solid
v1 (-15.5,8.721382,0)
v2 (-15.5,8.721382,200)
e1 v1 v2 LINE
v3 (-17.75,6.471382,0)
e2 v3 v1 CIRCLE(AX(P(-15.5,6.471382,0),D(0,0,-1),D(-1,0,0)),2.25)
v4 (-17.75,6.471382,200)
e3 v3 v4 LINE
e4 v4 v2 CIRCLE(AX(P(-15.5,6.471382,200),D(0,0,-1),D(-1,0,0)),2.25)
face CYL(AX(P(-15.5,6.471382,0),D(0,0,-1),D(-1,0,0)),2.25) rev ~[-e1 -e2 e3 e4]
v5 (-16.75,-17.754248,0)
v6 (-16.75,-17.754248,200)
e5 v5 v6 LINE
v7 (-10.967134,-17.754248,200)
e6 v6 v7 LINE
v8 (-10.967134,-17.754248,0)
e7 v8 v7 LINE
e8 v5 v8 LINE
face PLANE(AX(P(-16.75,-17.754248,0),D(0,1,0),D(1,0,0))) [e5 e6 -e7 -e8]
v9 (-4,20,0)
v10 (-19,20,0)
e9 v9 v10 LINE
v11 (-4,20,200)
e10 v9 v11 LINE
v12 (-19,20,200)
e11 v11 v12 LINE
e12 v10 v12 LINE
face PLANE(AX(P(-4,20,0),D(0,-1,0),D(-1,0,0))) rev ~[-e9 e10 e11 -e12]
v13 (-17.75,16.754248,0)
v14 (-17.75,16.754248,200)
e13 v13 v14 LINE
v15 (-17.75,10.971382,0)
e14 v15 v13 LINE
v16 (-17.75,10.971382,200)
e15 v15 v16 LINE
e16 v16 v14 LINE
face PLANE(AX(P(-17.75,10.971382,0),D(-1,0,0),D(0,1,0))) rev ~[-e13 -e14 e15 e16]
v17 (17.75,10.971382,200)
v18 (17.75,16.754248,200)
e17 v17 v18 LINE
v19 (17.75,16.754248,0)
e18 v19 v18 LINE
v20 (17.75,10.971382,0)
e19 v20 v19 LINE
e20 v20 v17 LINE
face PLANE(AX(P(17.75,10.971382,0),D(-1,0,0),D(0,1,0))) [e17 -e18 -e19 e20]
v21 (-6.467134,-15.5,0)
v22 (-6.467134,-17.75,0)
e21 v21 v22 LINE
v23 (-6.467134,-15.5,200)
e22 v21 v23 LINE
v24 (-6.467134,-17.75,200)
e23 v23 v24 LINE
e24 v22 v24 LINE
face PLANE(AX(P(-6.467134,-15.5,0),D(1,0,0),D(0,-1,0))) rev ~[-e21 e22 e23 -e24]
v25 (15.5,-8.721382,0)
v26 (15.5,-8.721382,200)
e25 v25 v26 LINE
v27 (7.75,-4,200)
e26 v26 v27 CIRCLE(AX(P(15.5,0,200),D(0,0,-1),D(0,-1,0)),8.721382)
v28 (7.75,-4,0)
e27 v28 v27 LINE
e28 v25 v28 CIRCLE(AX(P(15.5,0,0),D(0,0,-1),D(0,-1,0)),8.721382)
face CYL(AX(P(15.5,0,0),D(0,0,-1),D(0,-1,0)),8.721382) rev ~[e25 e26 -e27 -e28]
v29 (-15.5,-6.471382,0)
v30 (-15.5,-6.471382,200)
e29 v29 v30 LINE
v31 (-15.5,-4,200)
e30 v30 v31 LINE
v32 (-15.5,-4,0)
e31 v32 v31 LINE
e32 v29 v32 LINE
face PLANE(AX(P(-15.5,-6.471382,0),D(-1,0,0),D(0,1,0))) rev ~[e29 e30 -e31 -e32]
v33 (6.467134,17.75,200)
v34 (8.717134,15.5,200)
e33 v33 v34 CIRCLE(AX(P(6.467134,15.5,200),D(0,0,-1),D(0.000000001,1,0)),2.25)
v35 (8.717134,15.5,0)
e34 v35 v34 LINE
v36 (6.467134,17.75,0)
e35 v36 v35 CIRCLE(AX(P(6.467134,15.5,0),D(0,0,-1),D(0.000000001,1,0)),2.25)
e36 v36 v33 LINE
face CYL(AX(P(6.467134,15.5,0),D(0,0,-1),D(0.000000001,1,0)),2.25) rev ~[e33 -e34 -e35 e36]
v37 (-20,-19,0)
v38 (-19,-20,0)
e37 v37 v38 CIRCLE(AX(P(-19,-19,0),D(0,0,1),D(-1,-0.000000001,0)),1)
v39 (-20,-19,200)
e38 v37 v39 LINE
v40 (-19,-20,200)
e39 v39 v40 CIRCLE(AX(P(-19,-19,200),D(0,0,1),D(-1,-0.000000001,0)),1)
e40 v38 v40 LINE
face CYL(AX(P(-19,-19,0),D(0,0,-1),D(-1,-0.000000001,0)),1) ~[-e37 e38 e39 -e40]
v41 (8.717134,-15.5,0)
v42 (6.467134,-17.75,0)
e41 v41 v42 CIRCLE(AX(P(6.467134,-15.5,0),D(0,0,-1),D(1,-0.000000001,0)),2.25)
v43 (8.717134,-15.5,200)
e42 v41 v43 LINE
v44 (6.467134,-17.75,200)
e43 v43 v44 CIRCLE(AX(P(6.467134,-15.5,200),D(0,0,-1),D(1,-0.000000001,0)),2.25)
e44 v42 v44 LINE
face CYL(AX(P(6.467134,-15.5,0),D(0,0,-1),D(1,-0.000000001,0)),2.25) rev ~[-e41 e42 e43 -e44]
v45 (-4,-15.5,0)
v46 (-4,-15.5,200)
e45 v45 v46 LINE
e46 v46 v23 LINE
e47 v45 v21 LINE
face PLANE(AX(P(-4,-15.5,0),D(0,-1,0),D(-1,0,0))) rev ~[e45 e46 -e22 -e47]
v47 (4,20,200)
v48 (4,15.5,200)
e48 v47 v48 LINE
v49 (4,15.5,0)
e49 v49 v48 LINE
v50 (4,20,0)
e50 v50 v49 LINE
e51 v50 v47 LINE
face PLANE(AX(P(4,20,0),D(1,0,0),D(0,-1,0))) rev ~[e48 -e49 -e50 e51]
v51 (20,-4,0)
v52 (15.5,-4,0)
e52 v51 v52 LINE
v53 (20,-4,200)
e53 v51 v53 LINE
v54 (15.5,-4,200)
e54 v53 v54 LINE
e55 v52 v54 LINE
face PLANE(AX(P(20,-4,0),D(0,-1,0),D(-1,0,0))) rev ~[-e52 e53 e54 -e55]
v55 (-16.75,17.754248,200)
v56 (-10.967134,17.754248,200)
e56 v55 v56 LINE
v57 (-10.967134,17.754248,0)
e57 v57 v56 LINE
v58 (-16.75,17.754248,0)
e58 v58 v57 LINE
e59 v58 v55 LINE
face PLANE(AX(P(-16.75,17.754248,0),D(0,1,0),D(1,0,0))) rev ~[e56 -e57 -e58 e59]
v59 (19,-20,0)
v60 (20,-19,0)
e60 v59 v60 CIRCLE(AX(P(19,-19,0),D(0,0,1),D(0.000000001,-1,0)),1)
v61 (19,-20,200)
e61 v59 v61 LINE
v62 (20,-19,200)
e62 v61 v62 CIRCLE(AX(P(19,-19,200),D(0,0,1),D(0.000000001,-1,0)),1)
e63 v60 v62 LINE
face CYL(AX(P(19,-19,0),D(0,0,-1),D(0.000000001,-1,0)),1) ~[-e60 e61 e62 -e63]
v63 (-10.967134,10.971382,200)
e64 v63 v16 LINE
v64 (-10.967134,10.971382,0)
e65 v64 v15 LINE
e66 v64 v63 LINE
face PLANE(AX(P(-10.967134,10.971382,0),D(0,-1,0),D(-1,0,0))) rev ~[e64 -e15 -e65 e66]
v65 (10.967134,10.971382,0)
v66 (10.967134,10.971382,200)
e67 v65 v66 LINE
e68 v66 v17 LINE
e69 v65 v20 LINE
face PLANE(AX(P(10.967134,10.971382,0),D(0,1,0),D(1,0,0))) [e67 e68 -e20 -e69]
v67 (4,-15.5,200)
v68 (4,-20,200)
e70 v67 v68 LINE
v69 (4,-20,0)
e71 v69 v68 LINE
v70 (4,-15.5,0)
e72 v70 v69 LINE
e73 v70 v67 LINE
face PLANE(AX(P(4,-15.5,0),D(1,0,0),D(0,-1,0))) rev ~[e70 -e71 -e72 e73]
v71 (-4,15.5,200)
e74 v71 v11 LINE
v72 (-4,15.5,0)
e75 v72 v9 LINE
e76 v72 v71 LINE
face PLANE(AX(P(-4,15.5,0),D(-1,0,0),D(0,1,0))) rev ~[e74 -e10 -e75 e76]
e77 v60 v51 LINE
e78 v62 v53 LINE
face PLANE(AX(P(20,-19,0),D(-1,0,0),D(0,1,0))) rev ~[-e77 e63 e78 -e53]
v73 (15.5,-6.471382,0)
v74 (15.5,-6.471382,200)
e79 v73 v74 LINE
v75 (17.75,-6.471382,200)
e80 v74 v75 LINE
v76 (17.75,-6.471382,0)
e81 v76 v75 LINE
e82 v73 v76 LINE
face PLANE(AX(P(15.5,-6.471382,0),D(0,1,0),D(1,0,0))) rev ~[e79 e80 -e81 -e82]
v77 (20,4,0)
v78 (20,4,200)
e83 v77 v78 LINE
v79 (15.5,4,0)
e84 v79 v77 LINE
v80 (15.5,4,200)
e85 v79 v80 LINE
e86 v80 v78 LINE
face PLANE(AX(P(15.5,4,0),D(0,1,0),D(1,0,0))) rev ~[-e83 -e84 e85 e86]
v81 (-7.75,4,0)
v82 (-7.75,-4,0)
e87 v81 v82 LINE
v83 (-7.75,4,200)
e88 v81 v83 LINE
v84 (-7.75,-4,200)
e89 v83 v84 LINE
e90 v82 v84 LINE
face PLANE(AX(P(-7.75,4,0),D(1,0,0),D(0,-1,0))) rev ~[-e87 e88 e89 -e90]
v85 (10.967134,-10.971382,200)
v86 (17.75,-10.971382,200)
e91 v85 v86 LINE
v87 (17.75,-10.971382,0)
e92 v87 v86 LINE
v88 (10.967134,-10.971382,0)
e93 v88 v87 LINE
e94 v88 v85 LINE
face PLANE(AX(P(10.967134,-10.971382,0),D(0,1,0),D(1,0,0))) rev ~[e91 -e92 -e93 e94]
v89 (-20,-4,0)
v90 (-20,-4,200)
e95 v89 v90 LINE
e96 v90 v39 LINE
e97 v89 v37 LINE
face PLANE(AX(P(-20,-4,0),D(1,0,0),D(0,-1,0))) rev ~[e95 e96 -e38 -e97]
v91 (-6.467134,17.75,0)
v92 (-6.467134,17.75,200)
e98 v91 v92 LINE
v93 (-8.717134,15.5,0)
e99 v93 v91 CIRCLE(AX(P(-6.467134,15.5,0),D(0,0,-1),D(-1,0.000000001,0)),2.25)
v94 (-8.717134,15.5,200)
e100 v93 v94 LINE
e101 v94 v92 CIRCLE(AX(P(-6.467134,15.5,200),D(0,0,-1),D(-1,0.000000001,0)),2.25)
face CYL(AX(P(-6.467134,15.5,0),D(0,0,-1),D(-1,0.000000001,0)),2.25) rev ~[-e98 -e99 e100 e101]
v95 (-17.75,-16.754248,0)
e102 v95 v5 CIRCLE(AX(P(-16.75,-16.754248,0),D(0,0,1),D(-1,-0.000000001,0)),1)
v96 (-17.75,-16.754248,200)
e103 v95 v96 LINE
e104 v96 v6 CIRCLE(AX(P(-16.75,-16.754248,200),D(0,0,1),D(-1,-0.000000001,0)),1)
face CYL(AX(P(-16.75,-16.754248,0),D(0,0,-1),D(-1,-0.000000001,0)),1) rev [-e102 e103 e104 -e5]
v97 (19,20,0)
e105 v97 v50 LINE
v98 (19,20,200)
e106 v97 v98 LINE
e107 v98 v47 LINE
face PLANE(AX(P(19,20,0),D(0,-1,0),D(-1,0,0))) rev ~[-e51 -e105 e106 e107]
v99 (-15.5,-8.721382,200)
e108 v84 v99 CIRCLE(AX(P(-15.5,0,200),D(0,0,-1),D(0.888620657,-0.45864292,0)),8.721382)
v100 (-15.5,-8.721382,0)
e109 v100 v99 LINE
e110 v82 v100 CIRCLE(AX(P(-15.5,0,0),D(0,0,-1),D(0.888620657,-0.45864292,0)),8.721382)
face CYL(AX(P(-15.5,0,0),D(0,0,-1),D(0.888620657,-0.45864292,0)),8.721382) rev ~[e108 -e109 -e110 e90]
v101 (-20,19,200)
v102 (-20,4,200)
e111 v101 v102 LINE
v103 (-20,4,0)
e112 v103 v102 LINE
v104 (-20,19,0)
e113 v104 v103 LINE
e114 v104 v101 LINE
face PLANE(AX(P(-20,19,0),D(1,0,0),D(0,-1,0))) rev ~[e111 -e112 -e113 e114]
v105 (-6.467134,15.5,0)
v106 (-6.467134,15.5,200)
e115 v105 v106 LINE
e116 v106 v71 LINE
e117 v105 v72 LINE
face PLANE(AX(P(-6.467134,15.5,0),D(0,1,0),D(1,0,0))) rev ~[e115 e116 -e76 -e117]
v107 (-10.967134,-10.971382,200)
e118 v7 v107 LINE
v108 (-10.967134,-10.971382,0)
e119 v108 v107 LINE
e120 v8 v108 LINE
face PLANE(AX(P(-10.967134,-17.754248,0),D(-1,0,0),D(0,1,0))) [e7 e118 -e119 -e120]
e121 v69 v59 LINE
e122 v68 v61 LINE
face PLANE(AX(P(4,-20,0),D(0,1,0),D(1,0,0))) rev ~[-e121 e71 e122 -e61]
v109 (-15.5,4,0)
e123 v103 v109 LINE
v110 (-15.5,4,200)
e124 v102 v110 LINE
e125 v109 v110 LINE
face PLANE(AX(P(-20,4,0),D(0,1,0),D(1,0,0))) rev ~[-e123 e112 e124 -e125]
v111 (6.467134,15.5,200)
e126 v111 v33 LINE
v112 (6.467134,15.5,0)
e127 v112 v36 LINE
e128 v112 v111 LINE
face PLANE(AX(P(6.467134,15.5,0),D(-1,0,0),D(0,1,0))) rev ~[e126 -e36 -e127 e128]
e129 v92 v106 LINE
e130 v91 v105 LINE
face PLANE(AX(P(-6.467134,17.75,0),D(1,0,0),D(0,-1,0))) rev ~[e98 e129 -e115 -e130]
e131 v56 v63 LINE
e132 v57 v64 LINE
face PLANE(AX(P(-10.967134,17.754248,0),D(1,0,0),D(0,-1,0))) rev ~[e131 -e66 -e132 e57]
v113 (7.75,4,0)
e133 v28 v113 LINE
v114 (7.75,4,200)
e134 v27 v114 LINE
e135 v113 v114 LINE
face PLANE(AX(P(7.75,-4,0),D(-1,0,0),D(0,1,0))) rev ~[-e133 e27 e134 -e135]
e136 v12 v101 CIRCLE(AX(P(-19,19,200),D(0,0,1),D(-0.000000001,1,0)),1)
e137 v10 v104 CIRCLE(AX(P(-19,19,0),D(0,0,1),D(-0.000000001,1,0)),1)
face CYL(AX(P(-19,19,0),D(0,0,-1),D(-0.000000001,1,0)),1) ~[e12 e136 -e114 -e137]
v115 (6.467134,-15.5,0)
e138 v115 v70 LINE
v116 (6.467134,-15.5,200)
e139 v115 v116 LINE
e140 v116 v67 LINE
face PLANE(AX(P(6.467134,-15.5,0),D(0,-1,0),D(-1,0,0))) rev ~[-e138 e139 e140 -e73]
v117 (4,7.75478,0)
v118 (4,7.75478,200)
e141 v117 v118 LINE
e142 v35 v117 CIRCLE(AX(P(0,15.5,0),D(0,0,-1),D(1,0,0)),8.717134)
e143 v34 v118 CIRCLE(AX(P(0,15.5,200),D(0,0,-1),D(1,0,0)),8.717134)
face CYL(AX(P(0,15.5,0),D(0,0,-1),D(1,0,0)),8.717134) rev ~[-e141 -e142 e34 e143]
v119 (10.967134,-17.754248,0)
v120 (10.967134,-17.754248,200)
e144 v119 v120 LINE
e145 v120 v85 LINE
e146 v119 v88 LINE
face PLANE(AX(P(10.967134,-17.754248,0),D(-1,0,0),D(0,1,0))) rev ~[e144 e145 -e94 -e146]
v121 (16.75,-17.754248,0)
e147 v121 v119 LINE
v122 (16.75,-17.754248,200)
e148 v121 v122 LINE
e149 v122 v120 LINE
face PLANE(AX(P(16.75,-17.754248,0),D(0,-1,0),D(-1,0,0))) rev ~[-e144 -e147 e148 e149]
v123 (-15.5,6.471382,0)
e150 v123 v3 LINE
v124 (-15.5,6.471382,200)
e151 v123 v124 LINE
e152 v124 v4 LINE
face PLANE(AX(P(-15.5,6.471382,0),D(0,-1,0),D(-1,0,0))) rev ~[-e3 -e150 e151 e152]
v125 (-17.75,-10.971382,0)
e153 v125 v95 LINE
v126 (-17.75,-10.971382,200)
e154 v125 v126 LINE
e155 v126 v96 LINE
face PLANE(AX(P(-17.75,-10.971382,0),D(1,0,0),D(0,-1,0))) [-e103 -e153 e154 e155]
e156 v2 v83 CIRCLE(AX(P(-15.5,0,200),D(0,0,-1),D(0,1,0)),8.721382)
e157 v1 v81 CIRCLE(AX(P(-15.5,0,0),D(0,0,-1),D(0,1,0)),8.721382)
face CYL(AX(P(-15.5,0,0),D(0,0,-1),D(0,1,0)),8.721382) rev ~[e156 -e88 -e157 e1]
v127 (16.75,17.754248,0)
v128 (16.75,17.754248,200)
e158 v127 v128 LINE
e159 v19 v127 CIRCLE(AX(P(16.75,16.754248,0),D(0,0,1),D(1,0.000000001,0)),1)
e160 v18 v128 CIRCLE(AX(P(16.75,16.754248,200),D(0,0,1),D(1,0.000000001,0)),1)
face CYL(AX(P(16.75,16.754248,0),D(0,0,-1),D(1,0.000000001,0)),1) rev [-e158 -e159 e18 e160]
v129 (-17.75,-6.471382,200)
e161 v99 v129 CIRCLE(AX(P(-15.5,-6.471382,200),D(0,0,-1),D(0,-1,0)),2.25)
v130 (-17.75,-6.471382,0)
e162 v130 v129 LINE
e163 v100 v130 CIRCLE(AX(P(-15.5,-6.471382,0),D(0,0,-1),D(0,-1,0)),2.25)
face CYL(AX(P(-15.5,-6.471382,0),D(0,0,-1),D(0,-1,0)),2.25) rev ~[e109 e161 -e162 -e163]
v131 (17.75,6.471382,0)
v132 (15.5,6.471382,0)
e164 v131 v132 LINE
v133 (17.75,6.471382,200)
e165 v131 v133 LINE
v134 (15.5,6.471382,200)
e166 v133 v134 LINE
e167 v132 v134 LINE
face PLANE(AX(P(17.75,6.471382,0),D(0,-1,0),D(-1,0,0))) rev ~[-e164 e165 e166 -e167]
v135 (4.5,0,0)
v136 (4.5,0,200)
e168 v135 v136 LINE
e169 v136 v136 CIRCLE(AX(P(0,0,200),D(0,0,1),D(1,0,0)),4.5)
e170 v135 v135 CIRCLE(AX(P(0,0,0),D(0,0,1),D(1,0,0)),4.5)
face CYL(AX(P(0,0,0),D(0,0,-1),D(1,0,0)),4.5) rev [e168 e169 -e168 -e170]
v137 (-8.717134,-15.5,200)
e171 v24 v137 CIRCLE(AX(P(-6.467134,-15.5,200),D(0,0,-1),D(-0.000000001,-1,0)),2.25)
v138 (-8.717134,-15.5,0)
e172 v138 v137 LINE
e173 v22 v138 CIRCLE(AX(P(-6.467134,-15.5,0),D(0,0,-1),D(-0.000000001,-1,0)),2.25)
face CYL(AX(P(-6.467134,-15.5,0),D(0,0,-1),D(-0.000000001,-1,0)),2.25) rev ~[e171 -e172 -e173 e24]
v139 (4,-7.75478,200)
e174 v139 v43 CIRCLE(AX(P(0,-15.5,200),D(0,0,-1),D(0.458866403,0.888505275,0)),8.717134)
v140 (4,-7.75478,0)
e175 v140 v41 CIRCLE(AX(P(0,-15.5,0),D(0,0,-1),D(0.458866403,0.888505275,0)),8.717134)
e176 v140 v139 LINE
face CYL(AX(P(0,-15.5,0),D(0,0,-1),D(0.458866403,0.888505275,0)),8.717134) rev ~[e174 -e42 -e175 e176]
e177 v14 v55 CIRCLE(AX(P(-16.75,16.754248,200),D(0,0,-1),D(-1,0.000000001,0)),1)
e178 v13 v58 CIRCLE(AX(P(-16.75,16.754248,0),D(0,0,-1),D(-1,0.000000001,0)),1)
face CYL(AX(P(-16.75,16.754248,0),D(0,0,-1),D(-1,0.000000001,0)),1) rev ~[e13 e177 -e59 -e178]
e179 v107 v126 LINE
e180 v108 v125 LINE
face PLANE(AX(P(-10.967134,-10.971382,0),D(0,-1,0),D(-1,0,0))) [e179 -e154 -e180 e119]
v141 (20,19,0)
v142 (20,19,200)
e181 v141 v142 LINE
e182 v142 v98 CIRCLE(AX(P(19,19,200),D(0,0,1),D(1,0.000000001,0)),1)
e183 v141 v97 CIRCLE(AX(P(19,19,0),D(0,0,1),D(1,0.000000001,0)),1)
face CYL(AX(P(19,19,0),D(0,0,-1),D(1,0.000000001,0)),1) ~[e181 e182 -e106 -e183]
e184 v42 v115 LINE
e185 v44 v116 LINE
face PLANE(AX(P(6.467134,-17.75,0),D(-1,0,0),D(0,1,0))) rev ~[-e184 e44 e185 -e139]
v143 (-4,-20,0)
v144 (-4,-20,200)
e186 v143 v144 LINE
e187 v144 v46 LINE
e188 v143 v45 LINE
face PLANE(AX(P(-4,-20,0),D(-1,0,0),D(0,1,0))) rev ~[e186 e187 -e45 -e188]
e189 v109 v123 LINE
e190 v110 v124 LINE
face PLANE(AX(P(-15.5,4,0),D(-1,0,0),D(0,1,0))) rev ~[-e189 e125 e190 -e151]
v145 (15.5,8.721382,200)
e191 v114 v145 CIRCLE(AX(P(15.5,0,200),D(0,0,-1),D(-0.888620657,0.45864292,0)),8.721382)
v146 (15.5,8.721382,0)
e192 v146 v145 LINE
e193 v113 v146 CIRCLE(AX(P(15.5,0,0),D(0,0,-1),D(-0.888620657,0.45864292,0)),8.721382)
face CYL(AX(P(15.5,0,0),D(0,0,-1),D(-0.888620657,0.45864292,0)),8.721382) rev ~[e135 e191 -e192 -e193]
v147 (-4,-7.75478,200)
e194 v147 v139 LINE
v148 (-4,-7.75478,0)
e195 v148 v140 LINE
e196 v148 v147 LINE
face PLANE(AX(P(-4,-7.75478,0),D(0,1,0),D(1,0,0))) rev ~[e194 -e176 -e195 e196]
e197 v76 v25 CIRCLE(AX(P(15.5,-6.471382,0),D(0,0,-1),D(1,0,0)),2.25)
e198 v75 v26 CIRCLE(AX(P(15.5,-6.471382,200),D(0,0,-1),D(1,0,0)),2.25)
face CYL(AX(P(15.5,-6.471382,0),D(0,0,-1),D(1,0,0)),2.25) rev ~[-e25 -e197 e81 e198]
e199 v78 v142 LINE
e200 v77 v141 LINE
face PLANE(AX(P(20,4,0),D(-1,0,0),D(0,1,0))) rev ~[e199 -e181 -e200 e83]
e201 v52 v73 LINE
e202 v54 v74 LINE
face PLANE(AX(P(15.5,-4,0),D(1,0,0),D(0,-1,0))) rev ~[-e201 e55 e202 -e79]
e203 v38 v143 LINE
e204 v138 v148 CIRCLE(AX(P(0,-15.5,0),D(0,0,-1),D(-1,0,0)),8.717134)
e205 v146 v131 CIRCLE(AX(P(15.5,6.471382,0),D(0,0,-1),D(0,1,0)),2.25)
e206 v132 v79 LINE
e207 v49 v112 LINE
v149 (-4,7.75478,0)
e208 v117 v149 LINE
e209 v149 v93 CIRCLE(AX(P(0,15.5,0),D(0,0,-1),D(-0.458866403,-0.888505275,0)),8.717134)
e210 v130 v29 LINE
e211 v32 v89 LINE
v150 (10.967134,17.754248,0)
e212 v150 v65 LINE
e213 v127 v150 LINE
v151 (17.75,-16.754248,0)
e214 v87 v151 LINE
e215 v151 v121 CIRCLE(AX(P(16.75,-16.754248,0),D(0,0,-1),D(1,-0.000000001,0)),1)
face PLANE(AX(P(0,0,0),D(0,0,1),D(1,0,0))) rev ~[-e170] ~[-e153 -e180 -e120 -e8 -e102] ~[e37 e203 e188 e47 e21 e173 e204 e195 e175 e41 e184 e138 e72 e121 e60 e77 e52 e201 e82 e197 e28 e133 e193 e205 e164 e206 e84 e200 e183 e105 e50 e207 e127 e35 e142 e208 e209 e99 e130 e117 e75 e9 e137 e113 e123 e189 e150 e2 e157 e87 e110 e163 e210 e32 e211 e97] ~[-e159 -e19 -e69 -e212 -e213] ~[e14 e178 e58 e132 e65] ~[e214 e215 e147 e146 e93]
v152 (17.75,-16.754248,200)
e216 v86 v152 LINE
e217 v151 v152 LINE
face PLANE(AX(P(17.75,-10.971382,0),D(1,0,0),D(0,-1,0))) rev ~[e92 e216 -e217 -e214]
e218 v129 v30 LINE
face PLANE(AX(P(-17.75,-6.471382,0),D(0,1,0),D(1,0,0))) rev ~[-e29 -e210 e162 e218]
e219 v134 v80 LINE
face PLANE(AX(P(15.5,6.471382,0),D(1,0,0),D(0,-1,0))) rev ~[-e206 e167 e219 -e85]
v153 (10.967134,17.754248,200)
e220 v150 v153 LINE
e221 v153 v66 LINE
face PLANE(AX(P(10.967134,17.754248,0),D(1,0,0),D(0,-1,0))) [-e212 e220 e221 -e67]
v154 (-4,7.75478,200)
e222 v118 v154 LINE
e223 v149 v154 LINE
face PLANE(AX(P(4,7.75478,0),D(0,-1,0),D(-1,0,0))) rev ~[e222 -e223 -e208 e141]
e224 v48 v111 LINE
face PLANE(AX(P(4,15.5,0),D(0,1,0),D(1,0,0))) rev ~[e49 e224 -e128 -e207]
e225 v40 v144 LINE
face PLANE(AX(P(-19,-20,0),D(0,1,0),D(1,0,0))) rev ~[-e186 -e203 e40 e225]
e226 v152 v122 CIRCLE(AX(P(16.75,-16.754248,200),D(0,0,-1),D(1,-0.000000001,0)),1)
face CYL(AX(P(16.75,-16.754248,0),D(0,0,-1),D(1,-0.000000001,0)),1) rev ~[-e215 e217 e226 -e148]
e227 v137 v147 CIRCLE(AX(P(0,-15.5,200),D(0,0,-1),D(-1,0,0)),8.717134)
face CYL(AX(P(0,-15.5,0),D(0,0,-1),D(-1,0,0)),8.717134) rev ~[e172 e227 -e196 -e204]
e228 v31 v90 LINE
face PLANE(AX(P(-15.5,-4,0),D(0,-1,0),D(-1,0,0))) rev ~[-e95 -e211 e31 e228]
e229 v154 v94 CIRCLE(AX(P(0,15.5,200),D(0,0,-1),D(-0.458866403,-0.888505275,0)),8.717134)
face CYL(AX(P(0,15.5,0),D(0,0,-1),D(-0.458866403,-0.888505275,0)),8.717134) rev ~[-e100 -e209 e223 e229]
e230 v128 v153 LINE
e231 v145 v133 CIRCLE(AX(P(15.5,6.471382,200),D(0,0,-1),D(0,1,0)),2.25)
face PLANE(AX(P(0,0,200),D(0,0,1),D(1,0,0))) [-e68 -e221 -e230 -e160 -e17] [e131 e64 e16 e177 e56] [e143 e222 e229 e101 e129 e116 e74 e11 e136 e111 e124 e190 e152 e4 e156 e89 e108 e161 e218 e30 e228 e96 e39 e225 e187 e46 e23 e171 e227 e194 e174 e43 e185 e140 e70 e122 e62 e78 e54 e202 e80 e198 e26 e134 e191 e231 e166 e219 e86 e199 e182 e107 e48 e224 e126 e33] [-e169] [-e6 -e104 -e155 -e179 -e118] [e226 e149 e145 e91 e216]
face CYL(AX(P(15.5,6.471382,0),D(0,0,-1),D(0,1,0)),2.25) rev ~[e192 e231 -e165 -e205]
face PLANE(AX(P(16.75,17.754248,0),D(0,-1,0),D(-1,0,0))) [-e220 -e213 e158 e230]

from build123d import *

# Parameters (mm, degrees)
SZKIC1_R                    = 4.5
DODANIE_WYCI_GNI_CIE1_DEPTH = 200


with BuildPart() as part:
    # Szkic1 → Dodanie-wyciągnięcie1 (new body)
    with BuildSketch(Plane.XY):
        with BuildLine():
            Line((4, 7.75478035), (-4, 7.75478035))
            ThreePointArc((-4, 7.75478035), (-7.445030717, 10.96569241), (-8.717134168, 15.500000044))
            ThreePointArc((-8.717134168, 15.500000044), (-8.058124425, 17.090990301), (-6.467134168, 17.750000044))
            Line((-6.467134168, 17.750000044), (-6.467134168, 15.500000044))
            Line((-6.467134168, 15.500000044), (-4, 15.500000044))
            Line((-4, 15.500000044), (-4, 20.000000044))
            Line((-4, 20.000000044), (-19, 20.000000044))
            ThreePointArc((-19, 20.000000044), (-19.707106812, 19.707106812), (-20.000000044, 19))
            Line((-20.000000044, 19), (-20.000000044, 4))
            Line((-20.000000044, 4), (-15.500000044, 4))
            Line((-15.500000044, 4), (-15.500000044, 6.471381771))
            Line((-15.500000044, 6.471381771), (-17.750000044, 6.471381771))
            ThreePointArc((-17.750000044, 6.471381771), (-17.090990301, 8.062372029), (-15.500000044, 8.721381771))
            ThreePointArc((-15.500000044, 8.721381771), (-10.962546302, 7.448087912), (-7.750000044, 4))
            Line((-7.750000044, 4), (-7.750000044, -4))
            ThreePointArc((-7.750000044, -4), (-10.962546302, -7.448087912), (-15.500000044, -8.721381771))
            ThreePointArc((-15.500000044, -8.721381771), (-17.090990301, -8.062372029), (-17.750000044, -6.471381771))
            Line((-17.750000044, -6.471381771), (-15.500000044, -6.471381771))
            Line((-15.500000044, -6.471381771), (-15.500000044, -4))
            Line((-15.500000044, -4), (-20.000000044, -4))
            Line((-20.000000044, -4), (-20.000000044, -19))
            ThreePointArc((-20.000000044, -19), (-19.707106812, -19.707106812), (-19, -20.000000044))
            Line((-19, -20.000000044), (-4, -20.000000044))
            Line((-4, -20.000000044), (-4, -15.500000044))
            Line((-4, -15.500000044), (-6.467134168, -15.500000044))
            Line((-6.467134168, -15.500000044), (-6.467134168, -17.750000044))
            ThreePointArc((-6.467134168, -17.750000044), (-8.058124425, -17.090990301), (-8.717134168, -15.500000044))
            ThreePointArc((-8.717134168, -15.500000044), (-7.445030717, -10.96569241), (-4, -7.75478035))
            Line((-4, -7.75478035), (4, -7.75478035))
            ThreePointArc((4, -7.75478035), (7.445030717, -10.96569241), (8.717134168, -15.500000044))
            ThreePointArc((8.717134168, -15.500000044), (8.058124425, -17.090990301), (6.467134168, -17.750000044))
            Line((6.467134168, -17.750000044), (6.467134168, -15.500000044))
            Line((6.467134168, -15.500000044), (4, -15.500000044))
            Line((4, -15.500000044), (4, -20.000000044))
            Line((4, -20.000000044), (19, -20.000000044))
            ThreePointArc((19, -20.000000044), (19.707106812, -19.707106812), (20.000000044, -19))
            Line((20.000000044, -19), (20.000000044, -4))
            Line((20.000000044, -4), (15.500000044, -4))
            Line((15.500000044, -4), (15.500000044, -6.471381771))
            Line((15.500000044, -6.471381771), (17.750000044, -6.471381771))
            ThreePointArc((17.750000044, -6.471381771), (17.090990301, -8.062372029), (15.500000044, -8.721381771))
            ThreePointArc((15.500000044, -8.721381771), (10.962546302, -7.448087912), (7.750000044, -4))
            Line((7.750000044, -4), (7.750000044, 4))
            ThreePointArc((7.750000044, 4), (10.962546302, 7.448087912), (15.500000044, 8.721381771))
            ThreePointArc((15.500000044, 8.721381771), (17.090990301, 8.062372029), (17.750000044, 6.471381771))
            Line((17.750000044, 6.471381771), (15.500000044, 6.471381771))
            Line((15.500000044, 6.471381771), (15.500000044, 4))
            Line((15.500000044, 4), (20.000000044, 4))
            Line((20.000000044, 4), (20.000000044, 19))
            ThreePointArc((20.000000044, 19), (19.707106812, 19.707106812), (19, 20.000000044))
            Line((19, 20.000000044), (4, 20.000000044))
            Line((4, 20.000000044), (4, 15.500000044))
            Line((4, 15.500000044), (6.467134168, 15.500000044))
            Line((6.467134168, 15.500000044), (6.467134168, 17.750000044))
            ThreePointArc((6.467134168, 17.750000044), (8.058124425, 17.090990301), (8.717134168, 15.500000044))
            ThreePointArc((8.717134168, 15.500000044), (7.445030717, 10.96569241), (4, 7.75478035))
        make_face()
        Circle(SZKIC1_R, mode=Mode.SUBTRACT)
        with BuildLine():
            Line((-17.750000044, 10.971381771), (-17.750000044, 16.754247647))
            ThreePointArc((-17.750000044, 16.754247647), (-17.457106825, 17.461354428), (-16.750000044, 17.754247647))
            Line((-16.750000044, 17.754247647), (-10.967134168, 17.754247647))
            Line((-10.967134168, 17.754247647), (-10.967134168, 10.971381771))
            Line((-10.967134168, 10.971381771), (-17.750000044, 10.971381771))
        make_face(mode=Mode.SUBTRACT)
        with BuildLine():
            Line((10.967134168, 10.971381771), (17.750000044, 10.971381771))
            Line((17.750000044, 10.971381771), (17.750000044, 16.754247647))
            ThreePointArc((17.750000044, 16.754247647), (17.457106825, 17.461354428), (16.750000044, 17.754247647))
            Line((16.750000044, 17.754247647), (10.967134168, 17.754247647))
            Line((10.967134168, 17.754247647), (10.967134168, 10.971381771))
        make_face(mode=Mode.SUBTRACT)
        with BuildLine():
            Line((17.750000044, -10.971381771), (17.750000044, -16.754247647))
            ThreePointArc((17.750000044, -16.754247647), (17.457106825, -17.461354428), (16.750000044, -17.754247647))
            Line((16.750000044, -17.754247647), (10.967134168, -17.754247647))
            Line((10.967134168, -17.754247647), (10.967134168, -10.971381771))
            Line((10.967134168, -10.971381771), (17.750000044, -10.971381771))
        make_face(mode=Mode.SUBTRACT)
        with BuildLine():
            Line((-10.967134168, -10.971381771), (-17.750000044, -10.971381771))
            Line((-17.750000044, -10.971381771), (-17.750000044, -16.754247647))
            ThreePointArc((-17.750000044, -16.754247647), (-17.457106825, -17.461354428), (-16.750000044, -17.754247647))
            Line((-16.750000044, -17.754247647), (-10.967134168, -17.754247647))
            Line((-10.967134168, -17.754247647), (-10.967134168, -10.971381771))
        make_face(mode=Mode.SUBTRACT)
    extrude(amount=DODANIE_WYCI_GNI_CIE1_DEPTH)


solid = part.part
